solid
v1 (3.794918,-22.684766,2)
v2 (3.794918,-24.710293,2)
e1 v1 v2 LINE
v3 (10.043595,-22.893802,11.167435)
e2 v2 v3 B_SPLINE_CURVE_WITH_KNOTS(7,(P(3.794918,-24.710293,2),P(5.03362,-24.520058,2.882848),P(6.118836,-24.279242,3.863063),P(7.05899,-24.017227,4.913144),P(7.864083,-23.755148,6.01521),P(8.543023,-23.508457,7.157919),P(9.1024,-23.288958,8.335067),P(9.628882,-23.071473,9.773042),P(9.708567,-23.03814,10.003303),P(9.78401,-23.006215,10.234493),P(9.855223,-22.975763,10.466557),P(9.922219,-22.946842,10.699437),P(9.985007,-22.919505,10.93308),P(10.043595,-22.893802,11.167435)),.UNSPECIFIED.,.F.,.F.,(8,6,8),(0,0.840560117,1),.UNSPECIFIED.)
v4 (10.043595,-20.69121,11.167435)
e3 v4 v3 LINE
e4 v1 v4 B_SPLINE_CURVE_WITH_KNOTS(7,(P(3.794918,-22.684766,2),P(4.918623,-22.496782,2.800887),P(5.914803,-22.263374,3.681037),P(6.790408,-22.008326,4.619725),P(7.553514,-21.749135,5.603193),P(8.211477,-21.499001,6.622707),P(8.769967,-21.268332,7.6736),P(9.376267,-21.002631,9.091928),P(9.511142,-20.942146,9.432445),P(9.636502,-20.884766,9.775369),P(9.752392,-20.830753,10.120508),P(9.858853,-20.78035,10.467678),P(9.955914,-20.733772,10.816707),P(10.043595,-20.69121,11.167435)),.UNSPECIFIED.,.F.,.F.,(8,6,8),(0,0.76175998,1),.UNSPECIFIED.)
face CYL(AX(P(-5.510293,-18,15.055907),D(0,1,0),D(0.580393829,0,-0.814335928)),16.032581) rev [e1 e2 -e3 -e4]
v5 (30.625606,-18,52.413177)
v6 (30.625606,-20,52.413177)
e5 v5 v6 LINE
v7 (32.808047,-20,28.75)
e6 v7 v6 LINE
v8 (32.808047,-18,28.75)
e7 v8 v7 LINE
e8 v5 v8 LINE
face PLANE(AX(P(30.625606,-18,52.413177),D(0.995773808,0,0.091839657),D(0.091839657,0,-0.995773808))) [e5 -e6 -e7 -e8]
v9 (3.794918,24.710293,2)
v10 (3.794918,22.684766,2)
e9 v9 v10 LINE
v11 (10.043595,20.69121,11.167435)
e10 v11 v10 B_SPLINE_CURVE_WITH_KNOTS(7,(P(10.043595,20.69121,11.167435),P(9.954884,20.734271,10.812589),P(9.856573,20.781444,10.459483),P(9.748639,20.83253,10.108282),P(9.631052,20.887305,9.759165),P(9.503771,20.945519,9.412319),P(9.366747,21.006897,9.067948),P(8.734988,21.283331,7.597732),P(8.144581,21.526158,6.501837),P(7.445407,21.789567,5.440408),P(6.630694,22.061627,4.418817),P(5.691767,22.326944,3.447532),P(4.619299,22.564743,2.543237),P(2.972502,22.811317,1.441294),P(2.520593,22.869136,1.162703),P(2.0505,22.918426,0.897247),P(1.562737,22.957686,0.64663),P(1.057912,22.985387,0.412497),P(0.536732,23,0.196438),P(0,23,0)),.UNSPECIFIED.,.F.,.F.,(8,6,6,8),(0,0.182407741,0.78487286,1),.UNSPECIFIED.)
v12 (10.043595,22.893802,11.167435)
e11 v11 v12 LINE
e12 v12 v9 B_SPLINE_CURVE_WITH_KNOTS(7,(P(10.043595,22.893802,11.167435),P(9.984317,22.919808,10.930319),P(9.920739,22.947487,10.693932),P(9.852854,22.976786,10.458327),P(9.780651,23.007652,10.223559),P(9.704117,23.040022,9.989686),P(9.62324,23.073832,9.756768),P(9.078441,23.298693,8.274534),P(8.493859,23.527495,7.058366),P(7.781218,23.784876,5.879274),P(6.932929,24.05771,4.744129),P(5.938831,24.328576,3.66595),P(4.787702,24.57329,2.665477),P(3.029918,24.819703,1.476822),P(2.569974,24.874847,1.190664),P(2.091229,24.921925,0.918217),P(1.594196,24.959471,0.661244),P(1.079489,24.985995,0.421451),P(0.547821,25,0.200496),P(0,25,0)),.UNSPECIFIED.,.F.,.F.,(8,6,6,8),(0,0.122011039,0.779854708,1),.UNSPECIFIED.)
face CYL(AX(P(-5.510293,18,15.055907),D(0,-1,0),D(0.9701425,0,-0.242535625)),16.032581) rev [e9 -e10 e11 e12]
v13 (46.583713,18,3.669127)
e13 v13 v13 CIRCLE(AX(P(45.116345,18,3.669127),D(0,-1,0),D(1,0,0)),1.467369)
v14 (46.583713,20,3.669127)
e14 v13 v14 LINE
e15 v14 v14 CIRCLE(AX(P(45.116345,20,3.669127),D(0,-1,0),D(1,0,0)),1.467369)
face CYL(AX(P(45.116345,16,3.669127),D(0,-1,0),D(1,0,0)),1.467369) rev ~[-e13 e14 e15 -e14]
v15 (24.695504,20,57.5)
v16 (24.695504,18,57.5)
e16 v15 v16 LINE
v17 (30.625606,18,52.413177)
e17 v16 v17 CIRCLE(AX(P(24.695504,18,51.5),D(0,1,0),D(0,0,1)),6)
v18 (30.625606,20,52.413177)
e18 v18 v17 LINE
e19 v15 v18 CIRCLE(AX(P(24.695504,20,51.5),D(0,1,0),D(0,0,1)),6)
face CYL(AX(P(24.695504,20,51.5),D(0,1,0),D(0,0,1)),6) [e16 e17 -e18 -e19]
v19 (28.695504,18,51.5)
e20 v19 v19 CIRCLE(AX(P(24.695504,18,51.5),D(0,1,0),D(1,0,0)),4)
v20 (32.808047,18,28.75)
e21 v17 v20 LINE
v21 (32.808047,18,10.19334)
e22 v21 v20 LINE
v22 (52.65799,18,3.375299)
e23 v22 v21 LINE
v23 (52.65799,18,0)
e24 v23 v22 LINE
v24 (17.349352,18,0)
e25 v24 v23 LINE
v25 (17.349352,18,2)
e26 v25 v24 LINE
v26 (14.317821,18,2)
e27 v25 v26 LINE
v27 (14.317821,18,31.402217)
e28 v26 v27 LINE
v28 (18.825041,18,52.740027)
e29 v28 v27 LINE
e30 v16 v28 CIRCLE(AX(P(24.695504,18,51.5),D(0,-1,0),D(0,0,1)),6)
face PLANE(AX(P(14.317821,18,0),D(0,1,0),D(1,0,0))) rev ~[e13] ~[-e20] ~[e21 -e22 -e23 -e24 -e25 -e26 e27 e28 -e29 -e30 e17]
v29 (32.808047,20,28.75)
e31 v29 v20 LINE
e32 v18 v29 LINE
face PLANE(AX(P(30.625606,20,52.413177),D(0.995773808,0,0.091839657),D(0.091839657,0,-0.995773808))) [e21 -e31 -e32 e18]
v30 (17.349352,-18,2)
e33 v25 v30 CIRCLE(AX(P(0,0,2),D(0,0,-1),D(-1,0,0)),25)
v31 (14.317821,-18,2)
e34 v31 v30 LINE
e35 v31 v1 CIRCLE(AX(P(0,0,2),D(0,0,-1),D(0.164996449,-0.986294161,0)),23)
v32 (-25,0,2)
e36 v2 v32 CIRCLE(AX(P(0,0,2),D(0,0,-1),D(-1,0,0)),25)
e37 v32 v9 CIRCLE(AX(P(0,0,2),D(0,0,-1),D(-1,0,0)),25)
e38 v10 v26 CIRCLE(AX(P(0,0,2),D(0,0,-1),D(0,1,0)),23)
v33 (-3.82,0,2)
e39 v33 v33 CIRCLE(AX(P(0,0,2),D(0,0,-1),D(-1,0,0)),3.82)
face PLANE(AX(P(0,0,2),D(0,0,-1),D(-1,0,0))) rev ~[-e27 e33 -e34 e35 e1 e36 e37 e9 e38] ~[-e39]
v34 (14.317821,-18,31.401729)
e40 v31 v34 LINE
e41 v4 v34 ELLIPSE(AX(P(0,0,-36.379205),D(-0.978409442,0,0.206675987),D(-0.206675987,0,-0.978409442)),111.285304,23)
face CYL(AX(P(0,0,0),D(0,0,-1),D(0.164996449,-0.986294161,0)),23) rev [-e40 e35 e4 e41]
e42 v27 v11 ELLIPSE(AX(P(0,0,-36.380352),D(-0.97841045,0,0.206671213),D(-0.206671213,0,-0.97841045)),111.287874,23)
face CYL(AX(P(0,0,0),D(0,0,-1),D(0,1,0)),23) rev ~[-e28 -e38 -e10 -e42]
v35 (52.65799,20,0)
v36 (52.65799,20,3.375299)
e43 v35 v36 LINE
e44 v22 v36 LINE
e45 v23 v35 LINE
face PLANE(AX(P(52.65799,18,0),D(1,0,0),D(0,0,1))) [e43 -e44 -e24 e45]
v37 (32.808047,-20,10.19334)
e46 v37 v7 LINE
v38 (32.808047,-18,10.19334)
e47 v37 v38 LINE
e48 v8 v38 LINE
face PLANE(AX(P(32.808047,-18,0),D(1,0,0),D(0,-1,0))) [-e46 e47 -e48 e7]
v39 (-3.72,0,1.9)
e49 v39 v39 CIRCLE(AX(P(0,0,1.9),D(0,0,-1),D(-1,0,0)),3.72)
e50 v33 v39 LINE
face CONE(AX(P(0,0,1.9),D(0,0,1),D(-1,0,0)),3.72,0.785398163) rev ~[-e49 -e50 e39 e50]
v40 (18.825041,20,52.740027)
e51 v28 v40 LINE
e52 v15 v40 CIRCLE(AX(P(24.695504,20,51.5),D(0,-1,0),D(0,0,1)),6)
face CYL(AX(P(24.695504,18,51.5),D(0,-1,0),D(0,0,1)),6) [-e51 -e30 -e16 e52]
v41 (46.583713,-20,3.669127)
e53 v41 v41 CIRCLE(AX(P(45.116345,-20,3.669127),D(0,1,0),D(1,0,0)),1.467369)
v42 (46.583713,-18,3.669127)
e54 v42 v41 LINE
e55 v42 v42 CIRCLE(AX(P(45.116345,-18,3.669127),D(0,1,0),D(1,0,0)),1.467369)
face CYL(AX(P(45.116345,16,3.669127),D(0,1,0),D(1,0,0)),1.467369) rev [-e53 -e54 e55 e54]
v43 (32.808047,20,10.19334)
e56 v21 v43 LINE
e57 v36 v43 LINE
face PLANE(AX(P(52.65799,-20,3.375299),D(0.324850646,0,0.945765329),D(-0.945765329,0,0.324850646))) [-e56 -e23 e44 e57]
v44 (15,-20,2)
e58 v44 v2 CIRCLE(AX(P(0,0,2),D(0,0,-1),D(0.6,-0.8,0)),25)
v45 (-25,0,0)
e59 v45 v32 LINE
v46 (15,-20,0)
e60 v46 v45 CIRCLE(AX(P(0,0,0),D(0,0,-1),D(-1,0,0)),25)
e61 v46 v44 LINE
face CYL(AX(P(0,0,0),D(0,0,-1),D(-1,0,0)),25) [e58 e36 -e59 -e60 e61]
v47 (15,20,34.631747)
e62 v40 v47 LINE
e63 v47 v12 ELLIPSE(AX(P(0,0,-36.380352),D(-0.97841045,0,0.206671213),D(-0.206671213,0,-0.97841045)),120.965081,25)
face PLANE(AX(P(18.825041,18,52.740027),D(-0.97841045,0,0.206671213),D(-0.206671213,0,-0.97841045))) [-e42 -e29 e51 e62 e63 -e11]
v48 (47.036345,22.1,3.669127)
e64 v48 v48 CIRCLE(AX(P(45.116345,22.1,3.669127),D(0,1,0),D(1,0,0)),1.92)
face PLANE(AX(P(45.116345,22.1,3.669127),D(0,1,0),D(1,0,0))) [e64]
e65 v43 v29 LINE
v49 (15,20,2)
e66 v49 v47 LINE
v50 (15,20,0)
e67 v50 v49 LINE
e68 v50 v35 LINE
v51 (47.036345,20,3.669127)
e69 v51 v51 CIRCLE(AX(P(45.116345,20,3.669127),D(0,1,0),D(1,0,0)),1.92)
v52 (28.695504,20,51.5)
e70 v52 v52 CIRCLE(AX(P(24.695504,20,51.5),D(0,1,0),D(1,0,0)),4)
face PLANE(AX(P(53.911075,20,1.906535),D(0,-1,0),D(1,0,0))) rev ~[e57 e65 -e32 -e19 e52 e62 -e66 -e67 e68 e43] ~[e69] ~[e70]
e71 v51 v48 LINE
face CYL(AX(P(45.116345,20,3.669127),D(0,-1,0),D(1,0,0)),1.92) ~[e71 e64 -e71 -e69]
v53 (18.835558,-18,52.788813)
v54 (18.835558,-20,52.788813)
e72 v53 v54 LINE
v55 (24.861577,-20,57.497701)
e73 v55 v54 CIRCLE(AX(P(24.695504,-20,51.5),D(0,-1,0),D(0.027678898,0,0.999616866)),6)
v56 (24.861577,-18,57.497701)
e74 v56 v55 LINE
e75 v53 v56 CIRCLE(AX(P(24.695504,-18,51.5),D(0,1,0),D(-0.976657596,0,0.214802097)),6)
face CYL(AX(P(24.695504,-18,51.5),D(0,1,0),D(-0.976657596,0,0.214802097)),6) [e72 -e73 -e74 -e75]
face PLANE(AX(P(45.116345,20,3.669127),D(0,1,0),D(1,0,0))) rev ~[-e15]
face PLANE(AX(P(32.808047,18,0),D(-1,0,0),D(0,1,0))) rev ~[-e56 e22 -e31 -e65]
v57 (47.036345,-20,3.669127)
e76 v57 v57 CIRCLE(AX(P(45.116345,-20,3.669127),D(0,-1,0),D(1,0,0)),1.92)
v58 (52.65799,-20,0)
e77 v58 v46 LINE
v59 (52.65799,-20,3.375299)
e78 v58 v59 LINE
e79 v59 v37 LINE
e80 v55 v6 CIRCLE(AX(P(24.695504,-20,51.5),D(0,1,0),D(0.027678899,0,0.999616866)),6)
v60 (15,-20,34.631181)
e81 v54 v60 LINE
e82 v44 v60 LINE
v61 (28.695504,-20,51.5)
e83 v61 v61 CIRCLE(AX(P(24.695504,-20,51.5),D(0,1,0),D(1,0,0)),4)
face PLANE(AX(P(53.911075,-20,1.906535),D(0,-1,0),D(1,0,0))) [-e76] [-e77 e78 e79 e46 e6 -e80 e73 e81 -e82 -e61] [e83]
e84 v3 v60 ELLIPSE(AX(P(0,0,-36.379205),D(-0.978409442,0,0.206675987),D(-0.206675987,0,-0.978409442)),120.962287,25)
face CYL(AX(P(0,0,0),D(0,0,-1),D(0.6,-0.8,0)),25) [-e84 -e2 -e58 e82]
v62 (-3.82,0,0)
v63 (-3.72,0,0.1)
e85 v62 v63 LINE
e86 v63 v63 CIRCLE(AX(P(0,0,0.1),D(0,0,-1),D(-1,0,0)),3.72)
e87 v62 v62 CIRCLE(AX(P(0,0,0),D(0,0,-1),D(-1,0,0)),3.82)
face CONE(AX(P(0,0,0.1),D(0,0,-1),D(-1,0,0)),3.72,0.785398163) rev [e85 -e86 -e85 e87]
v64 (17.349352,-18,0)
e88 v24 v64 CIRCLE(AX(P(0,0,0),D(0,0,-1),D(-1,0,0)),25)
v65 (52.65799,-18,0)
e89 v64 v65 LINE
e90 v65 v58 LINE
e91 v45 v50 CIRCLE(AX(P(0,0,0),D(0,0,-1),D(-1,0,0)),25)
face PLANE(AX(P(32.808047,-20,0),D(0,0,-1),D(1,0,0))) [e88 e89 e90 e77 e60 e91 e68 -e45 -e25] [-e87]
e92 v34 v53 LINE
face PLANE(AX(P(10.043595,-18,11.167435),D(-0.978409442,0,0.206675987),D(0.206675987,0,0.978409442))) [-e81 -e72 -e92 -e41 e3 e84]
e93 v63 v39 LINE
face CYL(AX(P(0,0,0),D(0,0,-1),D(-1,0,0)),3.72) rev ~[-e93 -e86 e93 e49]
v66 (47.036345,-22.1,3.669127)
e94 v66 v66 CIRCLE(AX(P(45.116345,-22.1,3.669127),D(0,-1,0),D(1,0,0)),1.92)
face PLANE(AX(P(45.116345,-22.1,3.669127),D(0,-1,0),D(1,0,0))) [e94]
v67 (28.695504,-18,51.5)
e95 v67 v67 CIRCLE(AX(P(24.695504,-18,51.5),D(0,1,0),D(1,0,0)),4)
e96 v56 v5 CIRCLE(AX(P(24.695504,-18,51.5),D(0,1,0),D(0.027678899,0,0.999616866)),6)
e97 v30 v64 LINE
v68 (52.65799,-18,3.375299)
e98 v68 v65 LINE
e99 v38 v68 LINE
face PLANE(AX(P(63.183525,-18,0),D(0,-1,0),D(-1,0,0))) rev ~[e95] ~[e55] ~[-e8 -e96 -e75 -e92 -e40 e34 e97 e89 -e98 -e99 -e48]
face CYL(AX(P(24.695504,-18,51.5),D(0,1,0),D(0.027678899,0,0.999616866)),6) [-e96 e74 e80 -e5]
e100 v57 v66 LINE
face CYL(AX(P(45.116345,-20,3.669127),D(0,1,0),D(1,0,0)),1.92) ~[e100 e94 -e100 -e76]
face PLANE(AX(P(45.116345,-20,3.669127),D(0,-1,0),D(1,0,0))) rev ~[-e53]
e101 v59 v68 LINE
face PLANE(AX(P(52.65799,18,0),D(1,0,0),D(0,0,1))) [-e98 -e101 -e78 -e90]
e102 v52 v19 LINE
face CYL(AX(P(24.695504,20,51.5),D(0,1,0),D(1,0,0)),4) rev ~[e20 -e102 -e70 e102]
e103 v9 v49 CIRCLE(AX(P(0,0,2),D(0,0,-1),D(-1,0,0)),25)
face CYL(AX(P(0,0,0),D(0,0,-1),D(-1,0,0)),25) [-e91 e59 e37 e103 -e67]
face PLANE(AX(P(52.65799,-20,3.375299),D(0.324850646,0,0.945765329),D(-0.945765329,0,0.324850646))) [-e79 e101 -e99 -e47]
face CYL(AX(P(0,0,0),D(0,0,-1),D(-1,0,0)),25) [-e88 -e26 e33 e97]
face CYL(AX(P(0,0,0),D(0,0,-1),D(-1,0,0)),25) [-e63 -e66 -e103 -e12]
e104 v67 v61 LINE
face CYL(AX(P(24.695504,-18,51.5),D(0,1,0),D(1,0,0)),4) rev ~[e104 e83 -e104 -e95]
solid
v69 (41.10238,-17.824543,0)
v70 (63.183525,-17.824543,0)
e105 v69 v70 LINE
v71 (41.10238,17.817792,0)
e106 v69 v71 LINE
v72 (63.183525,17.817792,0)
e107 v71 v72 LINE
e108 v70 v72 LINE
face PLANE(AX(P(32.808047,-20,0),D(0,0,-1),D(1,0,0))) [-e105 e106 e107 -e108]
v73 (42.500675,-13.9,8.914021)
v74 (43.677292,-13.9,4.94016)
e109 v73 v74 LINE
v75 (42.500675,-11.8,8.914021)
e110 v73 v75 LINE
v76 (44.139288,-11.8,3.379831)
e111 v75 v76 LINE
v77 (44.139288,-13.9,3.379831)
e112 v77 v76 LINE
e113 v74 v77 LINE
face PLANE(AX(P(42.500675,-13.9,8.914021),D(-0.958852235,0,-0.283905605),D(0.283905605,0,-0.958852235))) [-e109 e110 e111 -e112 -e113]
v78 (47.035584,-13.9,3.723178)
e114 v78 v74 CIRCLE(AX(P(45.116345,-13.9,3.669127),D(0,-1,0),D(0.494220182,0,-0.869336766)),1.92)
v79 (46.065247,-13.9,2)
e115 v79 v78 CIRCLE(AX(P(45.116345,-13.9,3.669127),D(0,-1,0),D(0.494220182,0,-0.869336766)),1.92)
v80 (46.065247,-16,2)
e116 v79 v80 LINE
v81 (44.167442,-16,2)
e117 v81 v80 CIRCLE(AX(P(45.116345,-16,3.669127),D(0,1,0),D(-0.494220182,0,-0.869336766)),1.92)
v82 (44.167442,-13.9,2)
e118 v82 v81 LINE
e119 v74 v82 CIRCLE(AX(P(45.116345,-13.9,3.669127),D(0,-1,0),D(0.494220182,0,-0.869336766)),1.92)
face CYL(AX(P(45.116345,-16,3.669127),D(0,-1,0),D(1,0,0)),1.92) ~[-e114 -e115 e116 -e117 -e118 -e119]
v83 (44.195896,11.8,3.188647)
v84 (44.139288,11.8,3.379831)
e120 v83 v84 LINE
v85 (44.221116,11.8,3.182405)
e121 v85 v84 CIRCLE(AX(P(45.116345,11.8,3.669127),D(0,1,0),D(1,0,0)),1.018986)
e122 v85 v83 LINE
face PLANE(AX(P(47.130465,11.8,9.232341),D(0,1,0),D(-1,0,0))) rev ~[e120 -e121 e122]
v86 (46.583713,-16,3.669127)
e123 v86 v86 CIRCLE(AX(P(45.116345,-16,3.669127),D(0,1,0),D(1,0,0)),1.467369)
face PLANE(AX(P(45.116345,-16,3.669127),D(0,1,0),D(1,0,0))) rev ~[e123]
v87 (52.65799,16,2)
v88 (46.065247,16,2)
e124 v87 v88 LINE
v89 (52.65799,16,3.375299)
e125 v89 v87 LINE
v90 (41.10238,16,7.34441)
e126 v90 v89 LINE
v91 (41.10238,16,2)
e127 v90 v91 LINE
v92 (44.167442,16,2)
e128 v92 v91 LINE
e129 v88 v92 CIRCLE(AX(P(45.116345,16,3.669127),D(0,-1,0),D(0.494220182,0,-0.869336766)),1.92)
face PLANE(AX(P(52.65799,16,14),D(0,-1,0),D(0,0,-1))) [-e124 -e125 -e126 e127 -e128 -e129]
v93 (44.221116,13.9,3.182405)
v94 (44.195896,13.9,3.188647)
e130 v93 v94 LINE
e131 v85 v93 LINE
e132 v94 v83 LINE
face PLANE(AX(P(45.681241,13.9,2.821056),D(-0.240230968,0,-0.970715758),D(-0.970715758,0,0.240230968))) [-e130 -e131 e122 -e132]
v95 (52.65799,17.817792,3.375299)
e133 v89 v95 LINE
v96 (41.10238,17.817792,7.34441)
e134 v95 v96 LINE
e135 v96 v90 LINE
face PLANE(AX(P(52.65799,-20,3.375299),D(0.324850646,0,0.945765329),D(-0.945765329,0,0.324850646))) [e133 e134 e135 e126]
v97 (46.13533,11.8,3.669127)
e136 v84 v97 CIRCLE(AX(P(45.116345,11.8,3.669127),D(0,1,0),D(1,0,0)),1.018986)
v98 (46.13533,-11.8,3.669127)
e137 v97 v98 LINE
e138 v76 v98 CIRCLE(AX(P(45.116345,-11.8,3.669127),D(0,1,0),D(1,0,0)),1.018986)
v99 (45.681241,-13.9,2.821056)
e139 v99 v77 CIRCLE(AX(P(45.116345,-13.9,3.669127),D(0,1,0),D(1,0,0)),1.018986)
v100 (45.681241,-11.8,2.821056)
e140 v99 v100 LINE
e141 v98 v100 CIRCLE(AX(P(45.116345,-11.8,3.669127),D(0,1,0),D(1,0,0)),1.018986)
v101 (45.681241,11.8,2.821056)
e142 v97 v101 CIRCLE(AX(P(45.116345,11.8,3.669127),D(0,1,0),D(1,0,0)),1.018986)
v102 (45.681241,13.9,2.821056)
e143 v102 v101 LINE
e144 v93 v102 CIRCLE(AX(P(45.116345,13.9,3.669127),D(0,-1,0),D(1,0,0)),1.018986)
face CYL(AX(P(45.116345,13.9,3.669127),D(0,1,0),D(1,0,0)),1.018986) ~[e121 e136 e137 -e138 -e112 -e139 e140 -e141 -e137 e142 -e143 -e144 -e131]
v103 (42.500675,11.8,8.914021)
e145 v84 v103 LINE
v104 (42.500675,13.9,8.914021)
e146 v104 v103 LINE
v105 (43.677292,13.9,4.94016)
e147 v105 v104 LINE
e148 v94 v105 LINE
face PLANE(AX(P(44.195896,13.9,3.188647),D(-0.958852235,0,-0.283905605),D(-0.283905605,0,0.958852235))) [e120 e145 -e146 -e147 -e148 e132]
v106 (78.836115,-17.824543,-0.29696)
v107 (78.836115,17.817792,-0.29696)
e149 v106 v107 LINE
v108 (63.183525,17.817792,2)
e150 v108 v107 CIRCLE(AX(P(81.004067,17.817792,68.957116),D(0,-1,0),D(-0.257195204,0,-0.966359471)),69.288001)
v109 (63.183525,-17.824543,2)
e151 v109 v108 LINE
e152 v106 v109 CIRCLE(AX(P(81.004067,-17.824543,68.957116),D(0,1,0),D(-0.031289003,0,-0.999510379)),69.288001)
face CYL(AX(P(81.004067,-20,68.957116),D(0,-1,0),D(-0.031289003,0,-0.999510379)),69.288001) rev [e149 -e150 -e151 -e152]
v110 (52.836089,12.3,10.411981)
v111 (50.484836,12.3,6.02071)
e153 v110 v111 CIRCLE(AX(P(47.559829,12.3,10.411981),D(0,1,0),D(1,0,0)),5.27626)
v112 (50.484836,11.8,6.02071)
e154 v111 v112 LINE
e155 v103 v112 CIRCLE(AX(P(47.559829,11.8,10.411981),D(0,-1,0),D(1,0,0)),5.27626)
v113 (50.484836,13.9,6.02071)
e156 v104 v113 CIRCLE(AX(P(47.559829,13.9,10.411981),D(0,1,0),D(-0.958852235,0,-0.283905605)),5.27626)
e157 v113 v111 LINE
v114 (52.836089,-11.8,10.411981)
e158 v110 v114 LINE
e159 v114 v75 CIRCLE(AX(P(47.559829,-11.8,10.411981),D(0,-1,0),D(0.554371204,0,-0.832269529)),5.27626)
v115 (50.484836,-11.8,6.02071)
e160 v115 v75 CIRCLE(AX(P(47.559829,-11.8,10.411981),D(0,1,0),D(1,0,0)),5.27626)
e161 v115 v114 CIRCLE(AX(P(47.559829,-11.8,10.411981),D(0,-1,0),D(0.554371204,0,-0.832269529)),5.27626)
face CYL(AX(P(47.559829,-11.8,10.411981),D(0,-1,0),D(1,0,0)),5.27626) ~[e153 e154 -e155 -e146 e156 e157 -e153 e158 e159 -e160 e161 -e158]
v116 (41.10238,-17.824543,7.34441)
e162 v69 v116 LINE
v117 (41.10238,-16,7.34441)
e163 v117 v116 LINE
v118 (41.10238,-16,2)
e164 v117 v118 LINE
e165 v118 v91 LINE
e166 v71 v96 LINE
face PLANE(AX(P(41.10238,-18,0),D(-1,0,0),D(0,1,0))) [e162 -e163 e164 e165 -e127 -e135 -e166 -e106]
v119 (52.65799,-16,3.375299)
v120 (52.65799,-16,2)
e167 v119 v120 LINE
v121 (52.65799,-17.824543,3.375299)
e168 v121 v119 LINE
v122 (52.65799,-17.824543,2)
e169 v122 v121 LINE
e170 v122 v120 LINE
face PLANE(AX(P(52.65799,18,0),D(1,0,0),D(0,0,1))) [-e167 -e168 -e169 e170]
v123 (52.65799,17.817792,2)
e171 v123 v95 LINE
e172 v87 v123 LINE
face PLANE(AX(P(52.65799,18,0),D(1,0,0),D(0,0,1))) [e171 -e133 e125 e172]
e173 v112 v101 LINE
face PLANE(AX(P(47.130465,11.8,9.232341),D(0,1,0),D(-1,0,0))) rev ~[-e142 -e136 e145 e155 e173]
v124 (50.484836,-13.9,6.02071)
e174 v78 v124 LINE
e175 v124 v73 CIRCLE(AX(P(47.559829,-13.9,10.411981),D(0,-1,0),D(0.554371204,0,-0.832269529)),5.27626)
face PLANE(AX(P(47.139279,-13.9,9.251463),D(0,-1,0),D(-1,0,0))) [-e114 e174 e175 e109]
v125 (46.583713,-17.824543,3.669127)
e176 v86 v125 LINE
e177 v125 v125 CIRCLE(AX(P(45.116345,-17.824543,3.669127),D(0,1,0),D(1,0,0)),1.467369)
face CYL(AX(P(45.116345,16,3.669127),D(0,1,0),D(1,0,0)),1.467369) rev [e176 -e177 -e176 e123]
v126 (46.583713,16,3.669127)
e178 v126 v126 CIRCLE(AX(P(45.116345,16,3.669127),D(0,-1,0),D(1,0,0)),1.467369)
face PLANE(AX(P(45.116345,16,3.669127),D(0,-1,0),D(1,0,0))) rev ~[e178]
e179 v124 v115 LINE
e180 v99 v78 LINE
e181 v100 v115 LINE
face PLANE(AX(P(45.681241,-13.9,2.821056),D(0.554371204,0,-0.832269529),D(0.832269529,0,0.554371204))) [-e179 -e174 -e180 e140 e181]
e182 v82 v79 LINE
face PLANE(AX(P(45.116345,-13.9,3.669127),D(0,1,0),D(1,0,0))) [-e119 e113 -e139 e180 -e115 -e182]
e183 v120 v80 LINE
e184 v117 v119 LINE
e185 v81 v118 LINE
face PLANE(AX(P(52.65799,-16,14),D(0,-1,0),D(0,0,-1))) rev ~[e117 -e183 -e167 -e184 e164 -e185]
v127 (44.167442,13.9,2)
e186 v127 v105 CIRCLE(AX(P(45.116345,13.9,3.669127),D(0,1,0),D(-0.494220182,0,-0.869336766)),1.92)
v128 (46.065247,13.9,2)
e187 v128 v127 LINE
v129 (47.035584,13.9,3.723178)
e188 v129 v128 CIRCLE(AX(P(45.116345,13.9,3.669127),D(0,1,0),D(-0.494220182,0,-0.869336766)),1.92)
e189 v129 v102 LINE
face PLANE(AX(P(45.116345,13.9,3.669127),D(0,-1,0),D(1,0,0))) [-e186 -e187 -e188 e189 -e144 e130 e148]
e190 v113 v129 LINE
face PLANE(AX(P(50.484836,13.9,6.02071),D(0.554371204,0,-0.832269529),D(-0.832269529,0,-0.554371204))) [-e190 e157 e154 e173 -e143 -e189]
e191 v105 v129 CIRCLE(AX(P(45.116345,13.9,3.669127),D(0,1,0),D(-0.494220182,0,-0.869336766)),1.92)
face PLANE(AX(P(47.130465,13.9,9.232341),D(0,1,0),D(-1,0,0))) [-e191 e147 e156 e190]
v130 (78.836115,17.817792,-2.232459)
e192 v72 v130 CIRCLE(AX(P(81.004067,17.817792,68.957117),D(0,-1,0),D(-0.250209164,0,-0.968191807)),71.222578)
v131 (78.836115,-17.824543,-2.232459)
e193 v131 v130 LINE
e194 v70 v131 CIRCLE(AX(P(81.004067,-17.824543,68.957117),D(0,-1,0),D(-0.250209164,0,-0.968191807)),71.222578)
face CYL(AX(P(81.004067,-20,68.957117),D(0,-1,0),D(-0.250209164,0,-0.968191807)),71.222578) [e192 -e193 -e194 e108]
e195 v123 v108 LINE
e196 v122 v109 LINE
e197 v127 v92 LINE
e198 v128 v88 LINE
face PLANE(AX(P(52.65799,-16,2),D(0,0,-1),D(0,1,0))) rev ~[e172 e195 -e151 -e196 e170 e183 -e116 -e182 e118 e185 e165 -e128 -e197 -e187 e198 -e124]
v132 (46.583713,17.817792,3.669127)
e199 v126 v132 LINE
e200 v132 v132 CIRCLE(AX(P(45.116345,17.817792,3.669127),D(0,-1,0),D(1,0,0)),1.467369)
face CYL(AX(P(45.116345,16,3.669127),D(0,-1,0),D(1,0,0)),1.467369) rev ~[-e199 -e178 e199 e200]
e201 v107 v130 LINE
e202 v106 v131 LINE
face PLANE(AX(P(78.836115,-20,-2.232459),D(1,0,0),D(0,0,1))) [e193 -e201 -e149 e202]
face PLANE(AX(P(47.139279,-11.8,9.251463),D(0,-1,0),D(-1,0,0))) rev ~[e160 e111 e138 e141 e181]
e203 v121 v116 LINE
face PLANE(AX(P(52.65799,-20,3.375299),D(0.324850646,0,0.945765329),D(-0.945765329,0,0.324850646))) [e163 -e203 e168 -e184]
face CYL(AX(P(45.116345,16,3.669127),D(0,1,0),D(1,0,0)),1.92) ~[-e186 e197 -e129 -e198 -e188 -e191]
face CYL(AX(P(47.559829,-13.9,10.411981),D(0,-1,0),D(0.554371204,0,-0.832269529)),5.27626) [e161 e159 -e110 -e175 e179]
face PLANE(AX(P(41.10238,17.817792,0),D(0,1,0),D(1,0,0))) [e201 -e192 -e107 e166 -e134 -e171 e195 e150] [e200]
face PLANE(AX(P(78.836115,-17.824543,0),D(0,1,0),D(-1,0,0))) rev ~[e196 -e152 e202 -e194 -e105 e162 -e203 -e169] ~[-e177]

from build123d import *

# Parameters (mm, degrees)
EXTRUDE_2_DEPTH      = 57.5
SKETCH_3_R           = 4
CUT_EXTRUDE_1_DEPTH  = 57.5
CUT_EXTRUDE_3_DEPTH  = 57.5
CUT_EXTRUDE_4_DEPTH  = 57.5
SKETCH_9_R           = 25
CUT_EXTRUDE_5_DEPTH  = 2
EXTRUDE_6_DEPTH      = 57.5
SKETCH_15_R          = 4
CUT_EXTRUDE_6_DEPTH  = 57.5
CUT_EXTRUDE_8_DEPTH  = 57.5
CUT_EXTRUDE_9_DEPTH  = 57.5
CUT_EXTRUDE_10_DEPTH = 57.5
CUT_EXTRUDE_11_DEPTH = 57.5
SKETCH_23_R          = 25
EXTRUDE_7_DEPTH      = 2
SKETCH_24_R          = 3.72
CUT_EXTRUDE_12_DEPTH = 2
CHAMFER_1_SIZE       = 0.1
EXTRUDE_9_DEPTH      = 40
CUT_EXTRUDE_14_DEPTH = 15
CUT_EXTRUDE_15_DEPTH = 15
SKETCH_30_W          = 12
SKETCH_30_H          = 32
CUT_EXTRUDE_17_DEPTH = 27
SKETCH_31_W          = 8.294333237
SKETCH_31_H          = 36
CUT_EXTRUDE_18_DEPTH = 12
CUT_EXTRUDE_19_DEPTH = 12
CUT_EXTRUDE_20_DEPTH = 12
CUT_EXTRUDE_23_DEPTH = 12
CUT_EXTRUDE_24_DEPTH = 20
SKETCH_36_R          = 1.46736887
CUT_EXTRUDE_25_DEPTH = 20
SKETCH_37_R          = 1.46736887
CUT_EXTRUDE_26_DEPTH = 41
SKETCH_38_R          = 1.92
EXTRUDE_11_DEPTH     = 2.1
SKETCH_40_R          = 1.92
EXTRUDE_12_DEPTH     = 2.1
SKETCH_41_R          = 1.92
EXTRUDE_13_DEPTH     = 2.1
SKETCH_42_R          = 1.92
EXTRUDE_14_DEPTH     = 2.1
SKETCH_44_R          = 1.018985512
EXTRUDE_15_DEPTH     = 28.1
EXTRUDE_16_DEPTH     = 2.1
EXTRUDE_17_DEPTH     = 2.1
SKETCH_48_R          = 5.276260096
EXTRUDE_18_DEPTH     = 24.1


with BuildPart() as part:
    # 草图1 → 凸台-拉伸2 (new body)
    with BuildSketch(Plane.XY):
        with BuildLine():
            Line((32.808047079, 20), (15, 20))
            ThreePointArc((15, 20), (7.90569415, 23.717082451), (0, 25))
            Line((0, 25), (0, 23))
            ThreePointArc((0, 23), (7.582875444, 21.714050751), (14.317821063, 18))
            Line((14.317821063, 18), (32.808047079, 18))
            Line((32.808047079, 18), (32.808047079, 20))
        make_face()
    extrude(amount=EXTRUDE_2_DEPTH)

    # 草图3 → 切除-拉伸1 (cut)
    with BuildSketch(Plane(origin=(0, 20, 0), x_dir=(1, 0, 0), z_dir=(0, 1, 0))):
        with Locations((24.695503774, -51.5)):
            Circle(SKETCH_3_R)
    extrude(amount=-CUT_EXTRUDE_1_DEPTH, mode=Mode.SUBTRACT)

    # 草图4 → 切除-拉伸3 (cut)
    with BuildSketch(Plane(origin=(0, 20, 0), x_dir=(1, 0, 0), z_dir=(0, 1, 0))):
        with BuildLine():
            Line((30.625605567, -52.413177272), (32.808047079, -28.75))
            Line((32.808047079, -28.75), (32.808047079, -57.5))
            Line((32.808047079, -57.5), (24.695503774, -57.5))
            ThreePointArc((24.695503774, -57.5), (28.601968696, -56.054067612), (30.625605567, -52.413177272))
        make_face()
    extrude(amount=-CUT_EXTRUDE_3_DEPTH, mode=Mode.SUBTRACT)

    # 草图7 → 切除-拉伸4 (cut)
    with BuildSketch(Plane.XZ.offset(-18)):
        with BuildLine():
            Line((18.825041072, 52.74002728), (10.043595458, 11.167434671))
            ThreePointArc((10.043595458, 11.167434671), (6.410396371, 4.334860869), (0, 0))
            Line((0, 0), (0, 57.5))
            Line((0, 57.5), (24.695503774, 57.5))
            ThreePointArc((24.695503774, 57.5), (20.916625877, 56.160480859), (18.825041072, 52.74002728))
        make_face()
    extrude(amount=-CUT_EXTRUDE_4_DEPTH, mode=Mode.SUBTRACT)

    # 草图9 → 切除-拉伸5 (cut)
    with BuildSketch(Plane(origin=(0, 0, 0), x_dir=(-1, 0, 0), z_dir=(0, 0, -1))):
        Circle(SKETCH_9_R)
    extrude(amount=-CUT_EXTRUDE_5_DEPTH, mode=Mode.SUBTRACT)



with BuildPart() as body_2:
    # 草图14 → 凸台-拉伸6 (new body)
    with BuildSketch(Plane(origin=(0, 0, 0), x_dir=(-1, 0, 0), z_dir=(0, 0, -1))):
        with BuildLine():
            Line((-32.808047079, -18), (-32.808047079, -20))
            Line((-32.808047079, -20), (-15, -20))
            ThreePointArc((-15, -20), (-9.688083112, -23.04649747), (-3.794918318, -24.7102933))
            Line((-3.794918318, -24.7102933), (-3.794918318, -22.684765702))
            ThreePointArc((-3.794918318, -22.684765702), (-9.354388777, -21.01179218), (-14.317821063, -18))
            Line((-14.317821063, -18), (-32.808047079, -18))
        make_face()
    extrude(amount=-EXTRUDE_6_DEPTH)

    # 草图15 → 切除-拉伸6 (cut)
    with BuildSketch(Plane(origin=(0, -18, 0), x_dir=(1, 0, 0), z_dir=(0, 1, 0))):
        with Locations((24.695503774, -51.5)):
            Circle(SKETCH_15_R)
    extrude(amount=-CUT_EXTRUDE_6_DEPTH, mode=Mode.SUBTRACT)

    # 草图16 → 切除-拉伸8 (cut)
    with BuildSketch(Plane(origin=(0, -18, 0), x_dir=(1, 0, 0), z_dir=(0, 1, 0))):
        with BuildLine():
            Line((32.808047079, -28.75), (32.808047079, -57.5))
            Line((32.808047079, -57.5), (24.861627034, -57.5))
            Line((24.861627034, -57.5), (24.861577165, -57.497701195))
            ThreePointArc((24.861577165, -57.497701195), (28.664626328, -55.999562884), (30.625605567, -52.413177272))
            Line((30.625605567, -52.413177272), (32.808047079, -28.75))
        make_face()
    extrude(amount=-CUT_EXTRUDE_8_DEPTH, mode=Mode.SUBTRACT)

    # 草图19 → 切除-拉伸9 (cut)
    with BuildSketch(Plane(origin=(0, -18, 0), x_dir=(1, 0, 0), z_dir=(0, 1, 0))):
        with BuildLine():
            Line((24.861577165, -57.497701195), (24.86687886, -57.502607272))
            Line((24.86687886, -57.502607272), (24.85757633, -57.503176041))
            Line((24.85757633, -57.503176041), (24.480600253, -57.542626824))
            Line((24.480600253, -57.542626824), (6.962638036, -59.37589256))
            Line((6.962638036, -59.37589256), (-10.592119025, -60.449213304))
            Line((-10.592119025, -60.449213304), (-4.928306335, -45.22845997))
            Line((-4.928306335, -45.22845997), (3.794918318, -2))
            Line((3.794918318, -2), (10.043595458, -11.167434671))
            Line((10.043595458, -11.167434671), (18.8355582, -52.788812582))
            ThreePointArc((18.8355582, -52.788812582), (21.001122486, -56.227742262), (24.861577165, -57.497701195))
        make_face()
    extrude(amount=-CUT_EXTRUDE_9_DEPTH, mode=Mode.SUBTRACT)

    # 草图20 → 切除-拉伸10 (cut)
    with BuildSketch(Plane(origin=(0, -18, 0), x_dir=(1, 0, 0), z_dir=(0, 1, 0))):
        with BuildLine():
            Line((10.043595458, -11.167434671), (3.794918318, -2))
            ThreePointArc((3.794918318, -2), (7.73750589, -6.0259851), (10.043595458, -11.167434671))
        make_face()
    extrude(amount=-CUT_EXTRUDE_10_DEPTH, mode=Mode.SUBTRACT)

    # 草图21 → 切除-拉伸11 (cut)
    with BuildSketch(Plane(origin=(0, -18, 0), x_dir=(1, 0, 0), z_dir=(0, 1, 0))):
        Polygon((15.295240659, 2.241651299), (15, 0), (15, -2), (2.39786402, -2), (2.909026621, 1.881065404), align=None)
    extrude(amount=-CUT_EXTRUDE_11_DEPTH, mode=Mode.SUBTRACT)


with BuildPart() as part_1:
    add(part.part)

    add(body_2.part)  # 凸台-拉伸7 merges body 2
    # 草图23 → 凸台-拉伸7 (add)
    with BuildSketch(Plane(origin=(0, 0, 0), x_dir=(-1, 0, 0), z_dir=(0, 0, -1))):
        Circle(SKETCH_23_R)
    extrude(amount=-EXTRUDE_7_DEPTH)

    # 草图24 → 切除-拉伸12 (cut)
    with BuildSketch(Plane(origin=(0, 0, 0), x_dir=(-1, 0, 0), z_dir=(0, 0, -1))):
        Circle(SKETCH_24_R)
    extrude(amount=-CUT_EXTRUDE_12_DEPTH, mode=Mode.SUBTRACT)

    # 倒角1
    chamfer_1_edges = [part_1.edges().sort_by_distance(p)[0] for p in [
        (3.72, 0, 2),
        (3.72, 0, 0),
    ]]
    chamfer(chamfer_1_edges, length=CHAMFER_1_SIZE)

    # 草图26 → 凸台-拉伸9 (add)
    with BuildSketch(Plane.XZ.offset(20)):
        with BuildLine():
            Line((32.808047079, 10.19334042), (32.808047079, 0))
            Line((32.808047079, 0), (63.183525326, 0))
            ThreePointArc((63.183525326, 0), (70.947678861, -1.551923201), (78.83611453, -2.232458611))
            Line((78.83611453, -2.232458611), (78.83611453, -0.296960192))
            ThreePointArc((78.83611453, -0.296960192), (70.94404806, 0.40331883), (63.183525326, 2))
            Line((63.183525326, 2), (52.65799007, 2))
            Line((52.65799007, 2), (52.65799007, 3.375299413))
            Line((52.65799007, 3.375299413), (32.808047079, 10.19334042))
        make_face()
    extrude(amount=-EXTRUDE_9_DEPTH)

    # 草图28 → 切除-拉伸14 (cut)
    with BuildSketch(Plane(origin=(0, -18, 0), x_dir=(1, 0, 0), z_dir=(0, 1, 0))):
        Polygon((52.65799007, -2), (52.65799007, 6.350342188), (82.074205035, 6.350342188), (82.074205035, -4.817139338), (68.068579033, -9.691343982), align=None)
    extrude(amount=-CUT_EXTRUDE_14_DEPTH, mode=Mode.SUBTRACT)

    # 草图29 → 切除-拉伸15 (cut)
    with BuildSketch(Plane.XZ.offset(-18)):
        Polygon((52.65799007, 0), (52.65799007, 7.965251967), (80.923514967, 6.232128634), (83.715769225, -14.372782098), (61.47401979, -14.372782098), align=None)
    extrude(amount=-CUT_EXTRUDE_15_DEPTH, mode=Mode.SUBTRACT)

    # 草图30 → 切除-拉伸17 (cut)
    with BuildSketch(Plane(origin=(52.65799007, 0, 0), x_dir=(0, 0, -1), z_dir=(1, 0, 0))):
        with Locations((-8, 0)):
            Rectangle(SKETCH_30_W, SKETCH_30_H)
    extrude(amount=-CUT_EXTRUDE_17_DEPTH, mode=Mode.SUBTRACT)

    # 草图31 → 切除-拉伸18 (cut)
    with BuildSketch(Plane(origin=(0, 0, 0), x_dir=(-1, 0, 0), z_dir=(0, 0, -1))):
        with Locations((-36.955213697, 0)):
            Rectangle(SKETCH_31_W, SKETCH_31_H)
    extrude(amount=-CUT_EXTRUDE_18_DEPTH, mode=Mode.SUBTRACT)

    # 草图32 → 切除-拉伸19 (cut)
    with BuildSketch(Plane(origin=(0, 0, 0), x_dir=(-1, 0, 0), z_dir=(0, 0, -1))):
        with BuildLine():
            Line((-41.102380316, 18), (-41.102380316, 17.817791972))
            Line((-41.102380316, 17.817791972), (-80.480762485, 17.817791972))
            ThreePointArc((-80.480762485, 17.817791972), (-80.431701481, 17.995518627), (-80.298413844, 18.122908389))
            Line((-80.298413844, 18.122908389), (-78.83611453, 18))
            Line((-78.83611453, 18), (-41.102380316, 18))
        make_face()
    extrude(amount=-CUT_EXTRUDE_19_DEPTH, mode=Mode.SUBTRACT)

    # 草图33 → 切除-拉伸20 (cut)
    with BuildSketch(Plane(origin=(0, 0, 0), x_dir=(-1, 0, 0), z_dir=(0, 0, -1))):
        Polygon((-41.102380316, 17.817791972), (-41.102380316, 18), (-90.865382044, 18), (-92.565249906, 18), (-78.83611453, 17.817791972), align=None)
    extrude(amount=CUT_EXTRUDE_20_DEPTH, mode=Mode.SUBTRACT)

    # 草图34 → 切除-拉伸23 (cut)
    with BuildSketch(Plane(origin=(0, 0, 0), x_dir=(-1, 0, 0), z_dir=(0, 0, -1))):
        Polygon((-41.102380316, -18), (-41.102380316, -17.824542894), (-87.599456562, -17.824542894), (-86.587720707, -19.826682733), (-63.183525326, -18), align=None)
    extrude(amount=-CUT_EXTRUDE_23_DEPTH, mode=Mode.SUBTRACT)

    # 草图35 → 切除-拉伸24 (cut)
    with BuildSketch(Plane(origin=(0, 0, 0), x_dir=(-1, 0, 0), z_dir=(0, 0, -1))):
        Polygon((-63.183525326, -17.824542894), (-63.012723337, -20.623418586), (-79.237126126, -22.411765773), (-80.680731686, -17.046724213), (-78.83611453, -17.824542894), align=None)
    extrude(amount=CUT_EXTRUDE_24_DEPTH, mode=Mode.SUBTRACT)

    # 草图36 → 切除-拉伸25 (cut)
    with BuildSketch(Plane.XZ.offset(-16)):
        with Locations((45.116344536, 3.66912659)):
            Circle(SKETCH_36_R)
    extrude(amount=-CUT_EXTRUDE_25_DEPTH, mode=Mode.SUBTRACT)

    # 草图37 → 切除-拉伸26 (cut)
    with BuildSketch(Plane.XZ.offset(-16)):
        with Locations((45.116344536, 3.66912659)):
            Circle(SKETCH_37_R)
    extrude(amount=CUT_EXTRUDE_26_DEPTH, mode=Mode.SUBTRACT)

    # 草图38 → 凸台-拉伸11 (add)
    with BuildSketch(Plane.XZ.offset(20)):
        with Locations((45.116344536, 3.66912659)):
            Circle(SKETCH_38_R)
    extrude(amount=EXTRUDE_11_DEPTH)

    # 草图40 → 凸台-拉伸12 (add)
    with BuildSketch(Plane(origin=(0, -16, 0), x_dir=(1, 0, 0), z_dir=(0, 1, 0))):
        with Locations((45.116344536, -3.66912659)):
            Circle(SKETCH_40_R)
    extrude(amount=EXTRUDE_12_DEPTH)

    # 草图41 → 凸台-拉伸13 (add)
    with BuildSketch(Plane(origin=(0, 20, 0), x_dir=(1, 0, 0), z_dir=(0, 1, 0))):
        with Locations((45.116344536, -3.66912659)):
            Circle(SKETCH_41_R)
    extrude(amount=EXTRUDE_13_DEPTH)

    # 草图42 → 凸台-拉伸14 (add)
    with BuildSketch(Plane.XZ.offset(-16)):
        with Locations((45.116344536, 3.66912659)):
            Circle(SKETCH_42_R)
    extrude(amount=EXTRUDE_14_DEPTH)

    # 草图44 → 凸台-拉伸15 (add)
    with BuildSketch(Plane.XZ.offset(-13.9)):
        with Locations((45.116344536, 3.66912659)):
            Circle(SKETCH_44_R)
    extrude(amount=EXTRUDE_15_DEPTH)

    # 草图45 → 凸台-拉伸16 (add)
    with BuildSketch(Plane(origin=(0, -13.9, 0), x_dir=(1, 0, 0), z_dir=(0, 1, 0))):
        with BuildLine():
            Line((45.681240761, -2.821055998), (50.484835639, -6.020710177))
            ThreePointArc((50.484835639, -6.020710177), (49.357454542, -15.372571666), (42.500675194, -8.914020867))
            Line((42.500675194, -8.914020867), (44.139288, -3.379830892))
            Line((44.139288, -3.379830892), (45.681240761, -2.821055998))
        make_face()
    extrude(amount=EXTRUDE_16_DEPTH)

    # 草图46 → 凸台-拉伸17 (add)
    with BuildSketch(Plane.XZ.offset(-13.9)):
        with BuildLine():
            Line((50.484835639, 6.020710177), (45.681240761, 2.821055998))
            Line((45.681240761, 2.821055998), (44.195895592, 3.188646515))
            Line((44.195895592, 3.188646515), (42.500675194, 8.914020867))
            ThreePointArc((42.500675194, 8.914020867), (49.357454542, 15.372571666), (50.484835639, 6.020710177))
        make_face()
    extrude(amount=EXTRUDE_17_DEPTH)

    # 草图48 → 凸台-拉伸18 (add)
    with BuildSketch(Plane(origin=(0, -11.8, 0), x_dir=(1, 0, 0), z_dir=(0, 1, 0))):
        with Locations((47.559828977, -10.41198068)):
            Circle(SKETCH_48_R)
    extrude(amount=EXTRUDE_18_DEPTH)


solid = part_1.part
